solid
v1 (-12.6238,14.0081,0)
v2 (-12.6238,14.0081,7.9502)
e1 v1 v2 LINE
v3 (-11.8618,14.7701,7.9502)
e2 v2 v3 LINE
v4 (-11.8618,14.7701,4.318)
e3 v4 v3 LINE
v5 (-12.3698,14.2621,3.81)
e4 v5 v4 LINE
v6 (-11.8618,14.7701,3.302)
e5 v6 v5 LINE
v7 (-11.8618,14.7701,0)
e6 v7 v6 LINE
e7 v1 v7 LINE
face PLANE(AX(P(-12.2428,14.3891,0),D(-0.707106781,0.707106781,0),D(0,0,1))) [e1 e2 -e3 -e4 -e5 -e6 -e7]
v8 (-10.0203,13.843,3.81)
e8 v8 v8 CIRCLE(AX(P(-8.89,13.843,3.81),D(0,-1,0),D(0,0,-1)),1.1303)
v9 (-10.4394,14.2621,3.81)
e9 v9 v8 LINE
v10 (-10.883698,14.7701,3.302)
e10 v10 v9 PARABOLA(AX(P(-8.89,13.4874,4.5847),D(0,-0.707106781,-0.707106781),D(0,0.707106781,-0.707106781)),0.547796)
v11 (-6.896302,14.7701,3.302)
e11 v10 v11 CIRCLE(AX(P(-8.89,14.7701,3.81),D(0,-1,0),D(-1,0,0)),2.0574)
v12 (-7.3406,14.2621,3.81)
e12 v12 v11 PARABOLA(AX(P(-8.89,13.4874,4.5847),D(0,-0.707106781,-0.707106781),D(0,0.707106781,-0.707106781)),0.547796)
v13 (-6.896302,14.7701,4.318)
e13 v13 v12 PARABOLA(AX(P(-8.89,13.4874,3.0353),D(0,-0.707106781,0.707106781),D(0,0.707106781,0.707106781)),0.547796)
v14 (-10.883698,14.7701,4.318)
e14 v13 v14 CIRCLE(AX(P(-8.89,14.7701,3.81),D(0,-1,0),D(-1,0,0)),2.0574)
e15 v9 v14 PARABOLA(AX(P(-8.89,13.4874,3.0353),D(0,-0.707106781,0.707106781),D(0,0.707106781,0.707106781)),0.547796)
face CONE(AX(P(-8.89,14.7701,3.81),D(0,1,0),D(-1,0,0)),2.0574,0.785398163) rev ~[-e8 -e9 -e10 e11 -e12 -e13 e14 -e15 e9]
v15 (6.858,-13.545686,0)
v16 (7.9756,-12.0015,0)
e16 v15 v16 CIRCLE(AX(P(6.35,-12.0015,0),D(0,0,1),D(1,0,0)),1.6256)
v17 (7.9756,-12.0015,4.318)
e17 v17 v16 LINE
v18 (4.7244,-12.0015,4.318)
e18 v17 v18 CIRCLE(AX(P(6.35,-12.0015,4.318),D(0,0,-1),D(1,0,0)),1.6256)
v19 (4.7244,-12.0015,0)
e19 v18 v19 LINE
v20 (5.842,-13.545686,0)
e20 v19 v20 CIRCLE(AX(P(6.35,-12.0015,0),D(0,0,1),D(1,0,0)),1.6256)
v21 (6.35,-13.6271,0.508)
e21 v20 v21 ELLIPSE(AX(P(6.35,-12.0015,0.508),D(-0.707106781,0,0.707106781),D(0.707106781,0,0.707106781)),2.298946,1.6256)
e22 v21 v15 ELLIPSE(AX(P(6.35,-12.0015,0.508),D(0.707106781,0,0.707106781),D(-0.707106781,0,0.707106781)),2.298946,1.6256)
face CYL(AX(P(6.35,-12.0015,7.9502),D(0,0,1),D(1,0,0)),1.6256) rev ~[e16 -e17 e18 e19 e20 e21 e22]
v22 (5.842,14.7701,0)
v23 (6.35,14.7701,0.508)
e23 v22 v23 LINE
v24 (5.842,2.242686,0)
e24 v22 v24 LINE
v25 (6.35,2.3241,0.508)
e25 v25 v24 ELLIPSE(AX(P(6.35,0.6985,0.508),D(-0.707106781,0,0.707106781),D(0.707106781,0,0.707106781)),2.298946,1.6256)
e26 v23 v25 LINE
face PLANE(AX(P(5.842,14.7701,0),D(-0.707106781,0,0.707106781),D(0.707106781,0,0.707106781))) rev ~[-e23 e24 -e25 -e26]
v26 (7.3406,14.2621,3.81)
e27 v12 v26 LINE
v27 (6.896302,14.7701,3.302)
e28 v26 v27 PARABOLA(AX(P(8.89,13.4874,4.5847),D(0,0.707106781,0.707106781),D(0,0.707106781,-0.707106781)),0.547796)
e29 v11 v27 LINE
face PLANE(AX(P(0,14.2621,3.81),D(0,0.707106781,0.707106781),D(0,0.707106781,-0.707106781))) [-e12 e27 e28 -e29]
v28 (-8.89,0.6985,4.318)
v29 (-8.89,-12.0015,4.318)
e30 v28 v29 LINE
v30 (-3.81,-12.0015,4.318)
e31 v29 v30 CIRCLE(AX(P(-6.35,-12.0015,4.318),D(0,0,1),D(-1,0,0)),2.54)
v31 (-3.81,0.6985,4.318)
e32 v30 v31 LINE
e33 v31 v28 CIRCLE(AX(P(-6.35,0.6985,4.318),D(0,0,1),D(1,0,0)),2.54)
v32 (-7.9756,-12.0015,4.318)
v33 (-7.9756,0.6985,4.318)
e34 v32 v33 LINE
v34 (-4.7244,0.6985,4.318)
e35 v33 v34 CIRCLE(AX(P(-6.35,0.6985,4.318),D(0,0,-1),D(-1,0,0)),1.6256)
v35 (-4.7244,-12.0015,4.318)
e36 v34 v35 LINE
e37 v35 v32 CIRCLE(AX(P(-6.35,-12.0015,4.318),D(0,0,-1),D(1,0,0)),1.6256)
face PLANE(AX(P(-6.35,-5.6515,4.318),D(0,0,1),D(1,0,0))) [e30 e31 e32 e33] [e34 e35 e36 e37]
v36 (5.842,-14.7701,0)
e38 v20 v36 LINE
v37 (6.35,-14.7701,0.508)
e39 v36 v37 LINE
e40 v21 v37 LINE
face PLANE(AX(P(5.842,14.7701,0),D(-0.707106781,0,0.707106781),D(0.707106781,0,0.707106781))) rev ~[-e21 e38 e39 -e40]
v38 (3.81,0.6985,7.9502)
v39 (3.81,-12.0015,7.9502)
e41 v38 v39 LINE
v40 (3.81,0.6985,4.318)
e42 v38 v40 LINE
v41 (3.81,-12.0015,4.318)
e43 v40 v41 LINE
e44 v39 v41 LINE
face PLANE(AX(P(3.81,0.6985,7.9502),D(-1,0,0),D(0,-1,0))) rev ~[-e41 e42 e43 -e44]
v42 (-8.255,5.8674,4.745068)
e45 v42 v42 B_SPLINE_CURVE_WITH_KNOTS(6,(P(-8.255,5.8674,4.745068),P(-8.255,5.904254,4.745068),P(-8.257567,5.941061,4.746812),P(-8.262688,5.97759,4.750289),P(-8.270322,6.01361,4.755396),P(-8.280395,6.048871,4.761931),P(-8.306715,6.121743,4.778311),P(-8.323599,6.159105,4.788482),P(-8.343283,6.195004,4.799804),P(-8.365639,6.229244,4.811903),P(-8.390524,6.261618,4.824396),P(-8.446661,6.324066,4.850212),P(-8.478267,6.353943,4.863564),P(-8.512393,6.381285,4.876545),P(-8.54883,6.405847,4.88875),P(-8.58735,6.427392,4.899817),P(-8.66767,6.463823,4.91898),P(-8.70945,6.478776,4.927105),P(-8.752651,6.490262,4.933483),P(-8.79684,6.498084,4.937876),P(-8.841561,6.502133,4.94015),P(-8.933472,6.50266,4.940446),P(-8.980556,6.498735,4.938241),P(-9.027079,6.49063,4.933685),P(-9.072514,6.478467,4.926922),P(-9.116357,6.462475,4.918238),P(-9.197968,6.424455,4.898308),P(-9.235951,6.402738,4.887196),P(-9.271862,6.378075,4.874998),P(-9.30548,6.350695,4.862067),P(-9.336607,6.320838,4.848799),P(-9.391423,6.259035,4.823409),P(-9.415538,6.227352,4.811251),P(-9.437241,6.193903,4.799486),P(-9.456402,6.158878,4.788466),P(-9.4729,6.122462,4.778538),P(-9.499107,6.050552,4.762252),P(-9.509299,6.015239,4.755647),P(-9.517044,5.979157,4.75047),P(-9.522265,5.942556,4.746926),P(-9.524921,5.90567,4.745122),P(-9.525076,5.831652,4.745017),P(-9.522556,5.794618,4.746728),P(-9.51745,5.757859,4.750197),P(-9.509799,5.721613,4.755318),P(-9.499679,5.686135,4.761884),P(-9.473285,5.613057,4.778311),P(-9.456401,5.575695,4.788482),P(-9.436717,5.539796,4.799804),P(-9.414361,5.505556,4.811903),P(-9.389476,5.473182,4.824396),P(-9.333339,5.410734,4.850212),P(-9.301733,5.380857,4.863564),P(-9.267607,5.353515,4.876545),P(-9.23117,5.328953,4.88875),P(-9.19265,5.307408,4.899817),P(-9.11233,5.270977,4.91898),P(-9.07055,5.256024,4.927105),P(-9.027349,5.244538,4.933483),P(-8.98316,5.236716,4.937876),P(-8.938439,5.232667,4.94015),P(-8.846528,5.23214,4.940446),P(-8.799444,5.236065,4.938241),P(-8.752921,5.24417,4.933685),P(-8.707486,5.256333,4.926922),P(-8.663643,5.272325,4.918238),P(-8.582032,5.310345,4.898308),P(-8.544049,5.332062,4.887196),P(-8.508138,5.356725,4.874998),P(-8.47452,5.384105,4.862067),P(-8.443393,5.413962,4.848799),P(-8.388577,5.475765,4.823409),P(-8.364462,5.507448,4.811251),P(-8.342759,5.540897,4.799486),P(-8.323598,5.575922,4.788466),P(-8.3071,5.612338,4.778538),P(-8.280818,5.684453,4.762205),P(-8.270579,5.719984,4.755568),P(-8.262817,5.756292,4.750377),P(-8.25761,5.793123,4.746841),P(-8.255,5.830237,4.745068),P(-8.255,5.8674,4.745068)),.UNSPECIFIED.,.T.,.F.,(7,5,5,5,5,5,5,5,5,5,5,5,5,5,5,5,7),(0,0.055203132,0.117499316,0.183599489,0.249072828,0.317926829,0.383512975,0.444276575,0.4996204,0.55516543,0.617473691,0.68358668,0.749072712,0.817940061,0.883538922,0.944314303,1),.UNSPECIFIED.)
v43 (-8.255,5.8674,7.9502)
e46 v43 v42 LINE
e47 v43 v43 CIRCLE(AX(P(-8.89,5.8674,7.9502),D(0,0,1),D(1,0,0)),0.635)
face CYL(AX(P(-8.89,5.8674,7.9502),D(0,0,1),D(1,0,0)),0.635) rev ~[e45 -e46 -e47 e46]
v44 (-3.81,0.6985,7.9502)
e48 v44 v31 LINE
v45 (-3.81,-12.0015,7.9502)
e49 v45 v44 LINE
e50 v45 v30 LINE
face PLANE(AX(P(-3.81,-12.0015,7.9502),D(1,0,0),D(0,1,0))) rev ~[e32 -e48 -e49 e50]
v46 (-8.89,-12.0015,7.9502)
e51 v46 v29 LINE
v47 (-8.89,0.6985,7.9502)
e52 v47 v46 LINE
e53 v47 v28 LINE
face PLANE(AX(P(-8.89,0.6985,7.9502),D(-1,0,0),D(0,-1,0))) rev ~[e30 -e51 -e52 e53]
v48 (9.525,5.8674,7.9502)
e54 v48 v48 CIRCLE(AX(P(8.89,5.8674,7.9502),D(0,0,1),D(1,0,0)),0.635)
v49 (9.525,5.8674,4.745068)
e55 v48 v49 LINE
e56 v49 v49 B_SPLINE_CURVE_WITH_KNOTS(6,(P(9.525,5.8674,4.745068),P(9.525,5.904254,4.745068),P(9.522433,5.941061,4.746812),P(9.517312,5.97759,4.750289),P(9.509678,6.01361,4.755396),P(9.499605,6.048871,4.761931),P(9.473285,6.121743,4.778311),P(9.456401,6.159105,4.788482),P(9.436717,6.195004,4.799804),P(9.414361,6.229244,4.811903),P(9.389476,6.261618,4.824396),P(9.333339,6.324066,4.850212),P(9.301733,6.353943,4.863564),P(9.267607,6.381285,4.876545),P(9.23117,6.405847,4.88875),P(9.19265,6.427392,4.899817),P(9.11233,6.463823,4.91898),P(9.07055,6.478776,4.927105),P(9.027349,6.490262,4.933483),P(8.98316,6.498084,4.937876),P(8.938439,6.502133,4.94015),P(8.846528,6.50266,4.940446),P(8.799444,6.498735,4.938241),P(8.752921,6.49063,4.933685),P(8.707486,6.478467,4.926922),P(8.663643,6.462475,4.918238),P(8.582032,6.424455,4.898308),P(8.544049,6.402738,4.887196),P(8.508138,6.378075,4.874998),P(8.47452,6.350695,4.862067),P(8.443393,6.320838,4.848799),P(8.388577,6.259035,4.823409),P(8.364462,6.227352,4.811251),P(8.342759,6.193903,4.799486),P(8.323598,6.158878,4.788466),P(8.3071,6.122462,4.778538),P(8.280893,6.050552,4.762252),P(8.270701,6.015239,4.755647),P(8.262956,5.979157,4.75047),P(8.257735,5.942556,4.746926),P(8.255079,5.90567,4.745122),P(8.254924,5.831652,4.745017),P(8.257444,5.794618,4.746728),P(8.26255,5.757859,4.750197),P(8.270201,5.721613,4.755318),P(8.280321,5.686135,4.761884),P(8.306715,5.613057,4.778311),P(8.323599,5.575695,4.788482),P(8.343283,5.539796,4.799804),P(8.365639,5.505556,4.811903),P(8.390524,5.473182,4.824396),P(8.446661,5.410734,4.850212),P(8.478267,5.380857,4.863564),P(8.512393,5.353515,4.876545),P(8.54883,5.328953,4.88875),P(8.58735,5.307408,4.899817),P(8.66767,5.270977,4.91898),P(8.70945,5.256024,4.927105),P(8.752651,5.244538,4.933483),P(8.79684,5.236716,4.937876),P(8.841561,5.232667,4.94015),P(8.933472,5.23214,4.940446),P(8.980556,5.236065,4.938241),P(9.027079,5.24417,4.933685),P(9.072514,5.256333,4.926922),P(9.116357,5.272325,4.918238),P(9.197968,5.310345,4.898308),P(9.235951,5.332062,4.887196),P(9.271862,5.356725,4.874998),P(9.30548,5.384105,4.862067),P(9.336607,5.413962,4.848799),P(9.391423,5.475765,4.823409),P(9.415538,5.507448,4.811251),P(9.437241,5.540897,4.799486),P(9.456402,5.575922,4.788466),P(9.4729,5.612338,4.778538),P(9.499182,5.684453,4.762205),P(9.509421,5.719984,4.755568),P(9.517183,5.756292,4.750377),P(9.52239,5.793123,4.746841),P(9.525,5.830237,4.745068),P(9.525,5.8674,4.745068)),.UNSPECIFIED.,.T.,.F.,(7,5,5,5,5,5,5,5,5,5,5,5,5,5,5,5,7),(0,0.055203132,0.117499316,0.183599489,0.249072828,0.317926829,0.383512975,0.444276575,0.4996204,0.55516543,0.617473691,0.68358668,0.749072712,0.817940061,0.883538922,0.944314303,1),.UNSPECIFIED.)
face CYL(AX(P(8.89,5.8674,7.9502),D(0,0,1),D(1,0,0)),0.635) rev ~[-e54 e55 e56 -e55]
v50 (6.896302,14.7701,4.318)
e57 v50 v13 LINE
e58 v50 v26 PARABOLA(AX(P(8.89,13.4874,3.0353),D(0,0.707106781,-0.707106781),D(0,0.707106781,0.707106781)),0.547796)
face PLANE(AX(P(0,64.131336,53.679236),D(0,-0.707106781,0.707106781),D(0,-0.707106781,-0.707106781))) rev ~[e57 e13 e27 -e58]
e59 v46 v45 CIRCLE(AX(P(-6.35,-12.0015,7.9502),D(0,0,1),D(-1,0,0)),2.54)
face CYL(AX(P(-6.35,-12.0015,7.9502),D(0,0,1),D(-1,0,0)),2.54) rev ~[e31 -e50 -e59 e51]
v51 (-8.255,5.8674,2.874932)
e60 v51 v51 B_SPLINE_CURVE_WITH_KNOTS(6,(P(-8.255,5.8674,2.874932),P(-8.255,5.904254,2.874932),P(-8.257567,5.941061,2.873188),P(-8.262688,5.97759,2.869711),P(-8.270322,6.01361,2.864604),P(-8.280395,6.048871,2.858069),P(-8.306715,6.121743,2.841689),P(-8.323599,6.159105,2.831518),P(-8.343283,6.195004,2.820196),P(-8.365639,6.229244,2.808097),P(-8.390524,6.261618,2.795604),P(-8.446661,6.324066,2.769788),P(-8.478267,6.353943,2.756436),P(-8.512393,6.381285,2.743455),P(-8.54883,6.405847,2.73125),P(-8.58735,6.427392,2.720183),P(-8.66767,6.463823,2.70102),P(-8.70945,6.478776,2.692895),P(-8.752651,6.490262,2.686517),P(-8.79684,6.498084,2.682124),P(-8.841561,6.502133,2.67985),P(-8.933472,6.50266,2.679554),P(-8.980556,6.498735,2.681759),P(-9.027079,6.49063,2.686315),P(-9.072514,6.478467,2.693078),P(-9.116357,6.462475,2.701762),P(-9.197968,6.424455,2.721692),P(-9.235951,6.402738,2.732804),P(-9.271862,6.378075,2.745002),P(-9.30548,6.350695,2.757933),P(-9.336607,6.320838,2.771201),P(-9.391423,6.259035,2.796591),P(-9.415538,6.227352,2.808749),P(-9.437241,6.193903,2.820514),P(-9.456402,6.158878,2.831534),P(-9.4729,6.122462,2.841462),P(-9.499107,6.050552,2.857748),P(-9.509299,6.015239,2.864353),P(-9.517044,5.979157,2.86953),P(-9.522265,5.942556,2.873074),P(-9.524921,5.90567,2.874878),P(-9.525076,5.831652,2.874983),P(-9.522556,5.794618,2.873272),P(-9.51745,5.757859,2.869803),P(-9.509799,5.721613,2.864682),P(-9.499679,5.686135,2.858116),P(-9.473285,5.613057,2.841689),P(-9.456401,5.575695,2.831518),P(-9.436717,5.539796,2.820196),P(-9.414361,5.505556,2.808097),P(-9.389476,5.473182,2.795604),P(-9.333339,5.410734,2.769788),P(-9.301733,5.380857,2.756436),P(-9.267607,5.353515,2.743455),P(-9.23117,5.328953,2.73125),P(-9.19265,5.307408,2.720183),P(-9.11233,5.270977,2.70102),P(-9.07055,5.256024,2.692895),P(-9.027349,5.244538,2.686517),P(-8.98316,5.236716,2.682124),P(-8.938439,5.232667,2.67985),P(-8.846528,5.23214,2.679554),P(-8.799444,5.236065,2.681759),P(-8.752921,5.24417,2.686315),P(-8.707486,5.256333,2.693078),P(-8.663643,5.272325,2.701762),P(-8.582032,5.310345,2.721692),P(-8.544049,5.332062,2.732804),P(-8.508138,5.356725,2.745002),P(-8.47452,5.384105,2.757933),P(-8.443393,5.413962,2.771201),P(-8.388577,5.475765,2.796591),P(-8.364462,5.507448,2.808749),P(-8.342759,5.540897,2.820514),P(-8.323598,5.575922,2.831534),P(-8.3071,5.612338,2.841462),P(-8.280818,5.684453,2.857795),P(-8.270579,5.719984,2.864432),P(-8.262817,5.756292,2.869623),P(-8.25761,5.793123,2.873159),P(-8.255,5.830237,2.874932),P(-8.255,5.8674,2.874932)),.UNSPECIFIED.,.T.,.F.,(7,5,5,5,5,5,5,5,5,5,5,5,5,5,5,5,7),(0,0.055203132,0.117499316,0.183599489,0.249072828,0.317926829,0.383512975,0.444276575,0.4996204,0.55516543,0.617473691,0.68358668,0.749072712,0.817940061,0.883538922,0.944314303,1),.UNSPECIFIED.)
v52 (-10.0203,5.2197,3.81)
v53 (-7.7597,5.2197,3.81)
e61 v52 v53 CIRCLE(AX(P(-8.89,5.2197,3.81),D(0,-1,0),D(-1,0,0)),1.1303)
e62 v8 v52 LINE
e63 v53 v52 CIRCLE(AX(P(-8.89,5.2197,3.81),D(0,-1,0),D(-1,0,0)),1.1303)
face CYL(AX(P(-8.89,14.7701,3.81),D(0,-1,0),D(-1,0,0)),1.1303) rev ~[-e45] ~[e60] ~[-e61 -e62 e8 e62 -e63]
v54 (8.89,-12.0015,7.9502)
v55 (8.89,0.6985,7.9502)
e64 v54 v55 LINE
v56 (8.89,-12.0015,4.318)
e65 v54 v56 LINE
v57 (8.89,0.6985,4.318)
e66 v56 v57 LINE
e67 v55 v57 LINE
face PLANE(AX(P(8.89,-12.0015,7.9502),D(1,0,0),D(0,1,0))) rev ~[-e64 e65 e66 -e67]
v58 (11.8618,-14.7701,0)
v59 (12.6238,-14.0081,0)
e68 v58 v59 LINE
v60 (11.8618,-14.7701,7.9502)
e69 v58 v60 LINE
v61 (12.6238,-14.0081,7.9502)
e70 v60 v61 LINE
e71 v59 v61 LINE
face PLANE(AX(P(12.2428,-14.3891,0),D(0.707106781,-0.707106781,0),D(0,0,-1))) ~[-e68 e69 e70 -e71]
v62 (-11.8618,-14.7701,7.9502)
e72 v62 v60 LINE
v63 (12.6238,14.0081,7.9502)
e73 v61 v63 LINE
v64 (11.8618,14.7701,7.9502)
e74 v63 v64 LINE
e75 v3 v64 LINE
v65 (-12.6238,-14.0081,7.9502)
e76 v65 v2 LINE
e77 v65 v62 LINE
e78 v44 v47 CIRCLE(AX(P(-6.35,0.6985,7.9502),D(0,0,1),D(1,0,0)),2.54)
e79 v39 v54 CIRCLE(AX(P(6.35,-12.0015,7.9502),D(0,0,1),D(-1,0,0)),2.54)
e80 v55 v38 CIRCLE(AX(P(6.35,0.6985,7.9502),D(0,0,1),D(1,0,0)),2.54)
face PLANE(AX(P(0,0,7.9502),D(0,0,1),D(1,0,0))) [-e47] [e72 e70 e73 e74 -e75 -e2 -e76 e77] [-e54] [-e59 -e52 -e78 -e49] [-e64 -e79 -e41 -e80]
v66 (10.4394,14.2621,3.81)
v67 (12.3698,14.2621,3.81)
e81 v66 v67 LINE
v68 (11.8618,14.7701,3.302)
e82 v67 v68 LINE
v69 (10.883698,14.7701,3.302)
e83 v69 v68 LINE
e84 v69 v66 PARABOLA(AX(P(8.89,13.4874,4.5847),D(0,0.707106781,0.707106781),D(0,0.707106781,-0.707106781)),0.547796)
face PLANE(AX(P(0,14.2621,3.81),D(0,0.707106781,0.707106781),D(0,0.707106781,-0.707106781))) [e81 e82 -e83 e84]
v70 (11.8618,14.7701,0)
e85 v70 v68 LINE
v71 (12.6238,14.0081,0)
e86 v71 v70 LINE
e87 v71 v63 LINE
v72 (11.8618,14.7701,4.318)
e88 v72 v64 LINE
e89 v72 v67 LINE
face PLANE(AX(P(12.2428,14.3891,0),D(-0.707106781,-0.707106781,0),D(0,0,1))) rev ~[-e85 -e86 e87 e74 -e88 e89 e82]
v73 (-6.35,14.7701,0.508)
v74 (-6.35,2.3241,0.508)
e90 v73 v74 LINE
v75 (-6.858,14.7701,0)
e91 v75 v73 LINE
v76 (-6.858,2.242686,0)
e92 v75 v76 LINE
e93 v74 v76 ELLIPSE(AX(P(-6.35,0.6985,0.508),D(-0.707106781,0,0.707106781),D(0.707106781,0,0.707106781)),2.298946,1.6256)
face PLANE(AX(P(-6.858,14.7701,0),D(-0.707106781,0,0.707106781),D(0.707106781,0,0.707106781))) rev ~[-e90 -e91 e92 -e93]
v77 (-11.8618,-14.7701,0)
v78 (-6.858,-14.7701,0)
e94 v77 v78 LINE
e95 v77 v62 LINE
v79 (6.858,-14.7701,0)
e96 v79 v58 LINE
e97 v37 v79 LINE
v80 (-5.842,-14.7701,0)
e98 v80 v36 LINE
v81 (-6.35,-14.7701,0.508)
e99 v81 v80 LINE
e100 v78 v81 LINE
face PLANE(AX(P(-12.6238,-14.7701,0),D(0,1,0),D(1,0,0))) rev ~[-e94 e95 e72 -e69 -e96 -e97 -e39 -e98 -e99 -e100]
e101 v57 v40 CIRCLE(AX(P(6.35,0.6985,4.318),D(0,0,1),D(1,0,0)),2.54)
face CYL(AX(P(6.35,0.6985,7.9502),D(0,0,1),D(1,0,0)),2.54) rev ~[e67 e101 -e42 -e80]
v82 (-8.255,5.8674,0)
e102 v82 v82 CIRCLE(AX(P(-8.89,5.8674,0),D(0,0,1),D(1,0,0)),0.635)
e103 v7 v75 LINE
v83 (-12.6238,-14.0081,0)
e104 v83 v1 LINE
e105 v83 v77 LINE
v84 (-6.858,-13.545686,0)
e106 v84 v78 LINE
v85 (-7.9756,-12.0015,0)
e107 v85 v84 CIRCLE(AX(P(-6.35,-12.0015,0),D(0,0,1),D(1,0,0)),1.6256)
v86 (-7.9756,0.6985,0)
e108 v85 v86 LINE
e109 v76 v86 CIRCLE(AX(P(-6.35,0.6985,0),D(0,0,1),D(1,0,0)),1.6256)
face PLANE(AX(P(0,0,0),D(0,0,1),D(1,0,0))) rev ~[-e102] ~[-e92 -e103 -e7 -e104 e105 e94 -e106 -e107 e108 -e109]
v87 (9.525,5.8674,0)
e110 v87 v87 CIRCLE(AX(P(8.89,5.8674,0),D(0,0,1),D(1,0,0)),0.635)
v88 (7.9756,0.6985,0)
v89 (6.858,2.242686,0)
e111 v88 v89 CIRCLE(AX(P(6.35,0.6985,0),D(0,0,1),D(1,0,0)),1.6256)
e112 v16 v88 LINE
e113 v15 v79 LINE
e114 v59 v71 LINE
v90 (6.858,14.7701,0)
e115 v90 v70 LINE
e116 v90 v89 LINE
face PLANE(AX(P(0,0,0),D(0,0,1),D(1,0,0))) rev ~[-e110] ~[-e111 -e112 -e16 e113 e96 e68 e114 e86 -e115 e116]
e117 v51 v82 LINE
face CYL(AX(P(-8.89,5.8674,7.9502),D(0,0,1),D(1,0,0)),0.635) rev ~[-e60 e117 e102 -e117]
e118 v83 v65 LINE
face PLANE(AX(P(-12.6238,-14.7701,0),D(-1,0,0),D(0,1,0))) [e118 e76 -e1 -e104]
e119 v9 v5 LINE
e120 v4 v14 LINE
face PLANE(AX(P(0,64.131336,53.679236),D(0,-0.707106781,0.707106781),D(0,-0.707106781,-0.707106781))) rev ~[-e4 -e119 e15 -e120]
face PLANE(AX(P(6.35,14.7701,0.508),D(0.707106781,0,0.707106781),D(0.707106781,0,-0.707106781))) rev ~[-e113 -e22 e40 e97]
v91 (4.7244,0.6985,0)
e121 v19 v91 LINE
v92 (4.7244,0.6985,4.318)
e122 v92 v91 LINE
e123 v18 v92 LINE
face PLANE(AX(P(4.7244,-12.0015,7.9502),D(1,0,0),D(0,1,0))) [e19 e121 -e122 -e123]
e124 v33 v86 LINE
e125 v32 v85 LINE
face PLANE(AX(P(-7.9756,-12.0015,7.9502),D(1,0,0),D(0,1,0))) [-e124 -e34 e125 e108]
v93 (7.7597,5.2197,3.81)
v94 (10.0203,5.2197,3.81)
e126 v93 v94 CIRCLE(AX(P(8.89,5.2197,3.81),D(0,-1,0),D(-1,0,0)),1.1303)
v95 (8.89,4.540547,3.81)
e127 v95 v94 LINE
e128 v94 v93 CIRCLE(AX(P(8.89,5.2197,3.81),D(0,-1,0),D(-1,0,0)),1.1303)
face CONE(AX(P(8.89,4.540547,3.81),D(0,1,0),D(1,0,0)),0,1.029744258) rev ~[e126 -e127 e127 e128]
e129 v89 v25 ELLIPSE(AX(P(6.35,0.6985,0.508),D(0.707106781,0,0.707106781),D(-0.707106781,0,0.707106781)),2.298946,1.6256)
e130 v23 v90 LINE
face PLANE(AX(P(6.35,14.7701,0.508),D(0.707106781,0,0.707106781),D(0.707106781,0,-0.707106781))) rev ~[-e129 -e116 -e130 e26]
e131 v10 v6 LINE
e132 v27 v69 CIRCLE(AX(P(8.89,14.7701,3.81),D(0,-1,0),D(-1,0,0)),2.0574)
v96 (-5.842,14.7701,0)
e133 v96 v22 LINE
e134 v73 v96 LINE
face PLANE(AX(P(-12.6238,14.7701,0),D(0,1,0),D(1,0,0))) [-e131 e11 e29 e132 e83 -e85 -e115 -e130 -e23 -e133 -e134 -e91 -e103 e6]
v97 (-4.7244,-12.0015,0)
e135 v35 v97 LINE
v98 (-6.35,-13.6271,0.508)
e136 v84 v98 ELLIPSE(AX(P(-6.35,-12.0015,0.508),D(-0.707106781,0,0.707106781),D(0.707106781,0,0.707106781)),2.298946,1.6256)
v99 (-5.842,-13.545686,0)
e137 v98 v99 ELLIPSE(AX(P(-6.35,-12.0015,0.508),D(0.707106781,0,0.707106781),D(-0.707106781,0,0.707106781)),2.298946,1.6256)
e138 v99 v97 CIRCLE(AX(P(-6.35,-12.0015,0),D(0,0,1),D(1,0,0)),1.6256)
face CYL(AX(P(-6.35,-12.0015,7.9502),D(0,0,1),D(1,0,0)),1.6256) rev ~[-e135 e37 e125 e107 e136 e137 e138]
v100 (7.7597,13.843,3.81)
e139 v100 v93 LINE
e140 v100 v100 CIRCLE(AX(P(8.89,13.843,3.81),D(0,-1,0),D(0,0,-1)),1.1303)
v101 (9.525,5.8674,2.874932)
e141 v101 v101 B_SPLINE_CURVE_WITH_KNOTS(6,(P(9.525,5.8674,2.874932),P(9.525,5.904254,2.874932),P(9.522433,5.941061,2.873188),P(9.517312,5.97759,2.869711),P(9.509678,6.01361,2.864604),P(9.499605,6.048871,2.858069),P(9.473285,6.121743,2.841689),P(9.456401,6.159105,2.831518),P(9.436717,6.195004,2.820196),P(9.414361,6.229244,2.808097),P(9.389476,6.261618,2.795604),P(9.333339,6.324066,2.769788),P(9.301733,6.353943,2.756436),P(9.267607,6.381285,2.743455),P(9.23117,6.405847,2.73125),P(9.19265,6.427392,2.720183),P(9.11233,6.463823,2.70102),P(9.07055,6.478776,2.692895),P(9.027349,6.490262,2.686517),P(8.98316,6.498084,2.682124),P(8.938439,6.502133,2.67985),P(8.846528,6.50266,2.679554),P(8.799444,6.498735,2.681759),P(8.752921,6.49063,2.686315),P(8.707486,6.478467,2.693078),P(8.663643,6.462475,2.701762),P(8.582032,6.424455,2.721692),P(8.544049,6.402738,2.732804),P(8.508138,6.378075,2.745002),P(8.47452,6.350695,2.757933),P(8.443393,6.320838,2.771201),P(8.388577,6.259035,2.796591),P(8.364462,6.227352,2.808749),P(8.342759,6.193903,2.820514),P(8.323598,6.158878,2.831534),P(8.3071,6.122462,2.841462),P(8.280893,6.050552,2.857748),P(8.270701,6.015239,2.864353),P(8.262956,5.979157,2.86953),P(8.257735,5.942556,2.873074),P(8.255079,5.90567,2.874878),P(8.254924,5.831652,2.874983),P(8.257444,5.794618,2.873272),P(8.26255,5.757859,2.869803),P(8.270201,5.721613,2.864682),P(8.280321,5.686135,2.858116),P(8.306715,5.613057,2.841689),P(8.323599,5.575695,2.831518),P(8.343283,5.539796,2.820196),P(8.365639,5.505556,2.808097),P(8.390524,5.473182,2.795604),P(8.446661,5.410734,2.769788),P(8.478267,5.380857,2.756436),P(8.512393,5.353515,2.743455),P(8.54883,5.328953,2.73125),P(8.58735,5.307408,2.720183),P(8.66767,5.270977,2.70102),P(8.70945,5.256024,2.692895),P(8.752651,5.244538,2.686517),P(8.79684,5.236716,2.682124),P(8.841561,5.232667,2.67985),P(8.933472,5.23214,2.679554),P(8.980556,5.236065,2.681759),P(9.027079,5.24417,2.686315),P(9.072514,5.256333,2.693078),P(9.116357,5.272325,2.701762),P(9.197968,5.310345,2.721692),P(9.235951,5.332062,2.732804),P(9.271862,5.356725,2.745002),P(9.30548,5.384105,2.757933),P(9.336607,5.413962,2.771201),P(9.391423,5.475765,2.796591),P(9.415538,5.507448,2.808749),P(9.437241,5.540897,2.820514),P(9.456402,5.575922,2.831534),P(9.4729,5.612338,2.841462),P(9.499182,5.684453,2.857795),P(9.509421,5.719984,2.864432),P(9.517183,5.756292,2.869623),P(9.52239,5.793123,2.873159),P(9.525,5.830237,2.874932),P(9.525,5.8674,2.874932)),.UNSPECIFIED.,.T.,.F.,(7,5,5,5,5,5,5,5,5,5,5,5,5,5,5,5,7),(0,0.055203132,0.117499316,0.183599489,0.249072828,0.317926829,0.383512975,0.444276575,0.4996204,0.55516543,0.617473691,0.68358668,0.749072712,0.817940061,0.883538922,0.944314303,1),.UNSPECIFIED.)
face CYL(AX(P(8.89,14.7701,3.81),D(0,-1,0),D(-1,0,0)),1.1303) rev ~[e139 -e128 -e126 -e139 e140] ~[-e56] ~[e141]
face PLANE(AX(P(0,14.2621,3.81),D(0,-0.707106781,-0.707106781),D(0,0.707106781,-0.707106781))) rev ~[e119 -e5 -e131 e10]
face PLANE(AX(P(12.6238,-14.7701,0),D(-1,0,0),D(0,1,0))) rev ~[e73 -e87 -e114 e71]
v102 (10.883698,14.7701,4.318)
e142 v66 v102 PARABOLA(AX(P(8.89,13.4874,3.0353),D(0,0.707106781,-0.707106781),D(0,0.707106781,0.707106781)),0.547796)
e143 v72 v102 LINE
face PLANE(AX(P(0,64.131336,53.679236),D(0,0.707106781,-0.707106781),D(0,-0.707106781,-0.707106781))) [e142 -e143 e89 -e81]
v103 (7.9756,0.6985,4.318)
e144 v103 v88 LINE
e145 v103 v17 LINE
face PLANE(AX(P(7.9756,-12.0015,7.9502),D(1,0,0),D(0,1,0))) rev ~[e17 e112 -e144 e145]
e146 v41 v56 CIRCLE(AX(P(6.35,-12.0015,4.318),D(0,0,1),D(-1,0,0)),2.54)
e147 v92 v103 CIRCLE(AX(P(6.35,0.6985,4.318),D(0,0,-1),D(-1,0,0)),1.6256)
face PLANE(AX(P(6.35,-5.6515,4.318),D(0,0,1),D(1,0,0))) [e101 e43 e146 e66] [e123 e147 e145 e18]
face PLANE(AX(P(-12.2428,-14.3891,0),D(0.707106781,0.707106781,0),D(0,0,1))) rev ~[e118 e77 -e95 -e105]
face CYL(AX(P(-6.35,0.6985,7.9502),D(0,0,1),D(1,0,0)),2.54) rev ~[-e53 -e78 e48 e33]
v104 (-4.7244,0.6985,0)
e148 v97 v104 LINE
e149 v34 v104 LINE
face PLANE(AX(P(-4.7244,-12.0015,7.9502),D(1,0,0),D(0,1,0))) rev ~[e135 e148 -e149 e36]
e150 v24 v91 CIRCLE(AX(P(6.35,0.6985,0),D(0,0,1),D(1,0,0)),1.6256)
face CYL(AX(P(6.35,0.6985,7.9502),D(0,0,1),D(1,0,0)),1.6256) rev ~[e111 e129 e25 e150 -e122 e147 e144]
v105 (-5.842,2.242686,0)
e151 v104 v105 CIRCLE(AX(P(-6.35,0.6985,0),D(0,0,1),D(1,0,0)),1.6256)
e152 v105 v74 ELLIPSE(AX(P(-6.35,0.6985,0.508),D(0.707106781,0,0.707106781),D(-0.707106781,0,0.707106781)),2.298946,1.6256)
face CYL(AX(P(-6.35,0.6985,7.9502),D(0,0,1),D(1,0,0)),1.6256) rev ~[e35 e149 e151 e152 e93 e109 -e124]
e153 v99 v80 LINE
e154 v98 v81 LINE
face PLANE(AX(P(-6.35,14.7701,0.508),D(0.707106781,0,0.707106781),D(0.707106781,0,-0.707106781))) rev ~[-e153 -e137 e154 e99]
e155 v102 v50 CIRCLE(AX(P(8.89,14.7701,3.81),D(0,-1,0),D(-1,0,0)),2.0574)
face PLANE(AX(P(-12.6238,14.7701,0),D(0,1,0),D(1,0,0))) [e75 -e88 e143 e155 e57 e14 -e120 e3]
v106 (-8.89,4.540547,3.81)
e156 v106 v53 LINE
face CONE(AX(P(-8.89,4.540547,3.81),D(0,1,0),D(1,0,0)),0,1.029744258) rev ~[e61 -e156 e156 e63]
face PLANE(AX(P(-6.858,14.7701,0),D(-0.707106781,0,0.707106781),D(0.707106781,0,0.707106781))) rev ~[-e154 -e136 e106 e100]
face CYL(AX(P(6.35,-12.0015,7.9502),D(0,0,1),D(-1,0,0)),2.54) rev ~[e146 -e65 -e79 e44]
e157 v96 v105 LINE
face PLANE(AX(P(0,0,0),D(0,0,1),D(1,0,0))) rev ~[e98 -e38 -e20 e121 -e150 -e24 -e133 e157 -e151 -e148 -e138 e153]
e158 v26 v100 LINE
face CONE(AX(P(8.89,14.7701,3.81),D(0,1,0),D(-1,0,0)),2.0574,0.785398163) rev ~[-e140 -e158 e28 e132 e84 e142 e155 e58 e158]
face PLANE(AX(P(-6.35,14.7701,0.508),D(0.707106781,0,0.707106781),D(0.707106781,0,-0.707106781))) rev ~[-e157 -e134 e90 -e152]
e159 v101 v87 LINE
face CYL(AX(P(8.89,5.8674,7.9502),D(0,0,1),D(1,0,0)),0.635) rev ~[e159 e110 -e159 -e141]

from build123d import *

# Parameters (mm, degrees)
SKETCH1_W                       = 25.2476
SKETCH1_H                       = 29.5402
BOSS_EXTRUDE1_DEPTH             = 7.9502
CHAMFER1_SIZE                   = 0.762
CUT_EXTRUDE1_DEPTH              = 30.5402
F_4_40_TAPPED_HOLE1_D           = 2.2606
F_4_40_TAPPED_HOLE1_DEPTH       = 9.5504
F_4_40_TAPPED_HOLE1_CSINK_D     = 4.1148
F_4_40_TAPPED_HOLE1_CSINK_ANGLE = 90
F_4_40_TAPPED_HOLE1_TIP         = 0.679152758
SKETCH6_R                       = 1.6256
SKETCH6_W                       = 3.2512
SKETCH6_H                       = 12.7
CUT_EXTRUDE3_DEPTH              = 8.9502
CUT_EXTRUDE4_DEPTH              = 3.6322
SKETCH11_R                      = 0.635
CUT_EXTRUDE5_DEPTH              = 8.9502
CUT_EXTRUDE7_DEPTH              = 13.6238
CUT_EXTRUDE7_DEPTH_BACK         = 13.6238


with BuildPart() as part:
    # Sketch1 → Boss-Extrude1 (new body)
    with BuildSketch(Plane.XY):
        Rectangle(SKETCH1_W, SKETCH1_H)
    extrude(amount=BOSS_EXTRUDE1_DEPTH)

    # Chamfer1
    chamfer1_edges = [part.edges().sort_by_distance(p)[0] for p in [
        (12.6238, -14.7701, 3.9751),
        (-12.6238, -14.7701, 3.9751),
        (-12.6238, 14.7701, 3.9751),
        (12.6238, 14.7701, 3.9751),
    ]]
    chamfer(chamfer1_edges, length=CHAMFER1_SIZE)

    # Sketch2 → Cut-Extrude1 (cut, through all)
    with BuildSketch(Plane(origin=(0, 14.7701, 0), x_dir=(1, 0, 0), z_dir=(0, 1, 0))):
        Polygon((-6.35, 0.508), (-6.858, 0), (-6.35, -0.508), (-5.842, 0), align=None)
        Polygon((5.842, 0), (6.35, -0.508), (6.858, 0), (6.35, 0.508), align=None)
    extrude(amount=-CUT_EXTRUDE1_DEPTH, mode=Mode.SUBTRACT)

    # #4-40 Tapped Hole1
    with Locations(Plane(origin=(0, 14.7701, 0), x_dir=(1, 0, 0), z_dir=(0, 1, 0))):
        with Locations((-8.89, -3.81), (8.89, -3.81)):
            CounterSinkHole(F_4_40_TAPPED_HOLE1_D / 2, F_4_40_TAPPED_HOLE1_CSINK_D / 2, depth=F_4_40_TAPPED_HOLE1_DEPTH, counter_sink_angle=F_4_40_TAPPED_HOLE1_CSINK_ANGLE)
            with Locations((0, 0, -(F_4_40_TAPPED_HOLE1_DEPTH + F_4_40_TAPPED_HOLE1_TIP / 2))):  # 118° drill point
                Cone(0, F_4_40_TAPPED_HOLE1_D / 2, F_4_40_TAPPED_HOLE1_TIP, mode=Mode.SUBTRACT)

    # Sketch6 → Cut-Extrude3 (cut, through all)
    with BuildSketch(Plane.XY.offset(7.9502)):
        with Locations((-6.35, 0.6985)):
            Circle(SKETCH6_R)
        with Locations((-6.35, -12.0015)):
            Circle(SKETCH6_R)
        with Locations((6.35, -12.0015)):
            Circle(SKETCH6_R)
        with Locations((6.35, 0.6985)):
            Circle(SKETCH6_R)
        with Locations((-6.35, -5.6515)):
            Rectangle(SKETCH6_W, SKETCH6_H)
        with Locations((6.35, -5.6515)):
            Rectangle(SKETCH6_W, SKETCH6_H)
    extrude(amount=-CUT_EXTRUDE3_DEPTH, mode=Mode.SUBTRACT)

    # Sketch8 → Cut-Extrude4 (cut)
    with BuildSketch(Plane.XY.offset(7.9502)):
        with BuildLine():
            ThreePointArc((8.89, 0.6985), (6.35, 3.2385), (3.81, 0.6985))
            Line((3.81, 0.6985), (3.81, -12.0015))
            ThreePointArc((3.81, -12.0015), (6.35, -14.5415), (8.89, -12.0015))
            Line((8.89, -12.0015), (8.89, 0.6985))
        make_face()
        with BuildLine():
            Line((4.7244, -12.0015), (4.7244, 0.6985))
            ThreePointArc((4.7244, 0.6985), (6.35, 2.3241), (7.9756, 0.6985))
            Line((7.9756, 0.6985), (7.9756, -12.0015))
            ThreePointArc((7.9756, -12.0015), (6.35, -13.6271), (4.7244, -12.0015))
        make_face(mode=Mode.SUBTRACT)
        with BuildLine():
            Line((-3.81, -12.0015), (-3.81, 0.6985))
            ThreePointArc((-3.81, 0.6985), (-6.35, 3.2385), (-8.89, 0.6985))
            Line((-8.89, 0.6985), (-8.89, -12.0015))
            ThreePointArc((-8.89, -12.0015), (-6.35, -14.5415), (-3.81, -12.0015))
        make_face()
        with BuildLine():
            ThreePointArc((-7.9756, 0.6985), (-6.35, 2.3241), (-4.7244, 0.6985))
            Line((-4.7244, 0.6985), (-4.7244, -12.0015))
            ThreePointArc((-4.7244, -12.0015), (-6.35, -13.6271), (-7.9756, -12.0015))
            Line((-7.9756, -12.0015), (-7.9756, 0.6985))
        make_face(mode=Mode.SUBTRACT)
    extrude(amount=-CUT_EXTRUDE4_DEPTH, mode=Mode.SUBTRACT)

    # Sketch11 → Cut-Extrude5 (cut, through all)
    with BuildSketch(Plane.XY.offset(7.9502)):
        with Locations((-8.89, 5.8674)):
            Circle(SKETCH11_R)
        with Locations((8.89, 5.8674)):
            Circle(SKETCH11_R)
    extrude(amount=-CUT_EXTRUDE5_DEPTH, mode=Mode.SUBTRACT)

    # Sketch15 → Cut-Extrude7 (cut, two sides)
    with BuildSketch(Plane(origin=(0, 0, 0), x_dir=(0, 0, -1), z_dir=(1, 0, 0))) as cut_extrude7_sk:
        Polygon((-53.679236414, 64.131336414), (-4.318, 14.7701), (-3.81, 14.2621), (-3.302, 14.7701), (46.059236414, 64.131336414), (46.059236414, 203.745996399), (-53.679236414, 203.745996399), align=None)
    extrude(amount=CUT_EXTRUDE7_DEPTH, mode=Mode.SUBTRACT)
    extrude(cut_extrude7_sk.sketch, amount=-CUT_EXTRUDE7_DEPTH_BACK, mode=Mode.SUBTRACT)


solid = part.part
